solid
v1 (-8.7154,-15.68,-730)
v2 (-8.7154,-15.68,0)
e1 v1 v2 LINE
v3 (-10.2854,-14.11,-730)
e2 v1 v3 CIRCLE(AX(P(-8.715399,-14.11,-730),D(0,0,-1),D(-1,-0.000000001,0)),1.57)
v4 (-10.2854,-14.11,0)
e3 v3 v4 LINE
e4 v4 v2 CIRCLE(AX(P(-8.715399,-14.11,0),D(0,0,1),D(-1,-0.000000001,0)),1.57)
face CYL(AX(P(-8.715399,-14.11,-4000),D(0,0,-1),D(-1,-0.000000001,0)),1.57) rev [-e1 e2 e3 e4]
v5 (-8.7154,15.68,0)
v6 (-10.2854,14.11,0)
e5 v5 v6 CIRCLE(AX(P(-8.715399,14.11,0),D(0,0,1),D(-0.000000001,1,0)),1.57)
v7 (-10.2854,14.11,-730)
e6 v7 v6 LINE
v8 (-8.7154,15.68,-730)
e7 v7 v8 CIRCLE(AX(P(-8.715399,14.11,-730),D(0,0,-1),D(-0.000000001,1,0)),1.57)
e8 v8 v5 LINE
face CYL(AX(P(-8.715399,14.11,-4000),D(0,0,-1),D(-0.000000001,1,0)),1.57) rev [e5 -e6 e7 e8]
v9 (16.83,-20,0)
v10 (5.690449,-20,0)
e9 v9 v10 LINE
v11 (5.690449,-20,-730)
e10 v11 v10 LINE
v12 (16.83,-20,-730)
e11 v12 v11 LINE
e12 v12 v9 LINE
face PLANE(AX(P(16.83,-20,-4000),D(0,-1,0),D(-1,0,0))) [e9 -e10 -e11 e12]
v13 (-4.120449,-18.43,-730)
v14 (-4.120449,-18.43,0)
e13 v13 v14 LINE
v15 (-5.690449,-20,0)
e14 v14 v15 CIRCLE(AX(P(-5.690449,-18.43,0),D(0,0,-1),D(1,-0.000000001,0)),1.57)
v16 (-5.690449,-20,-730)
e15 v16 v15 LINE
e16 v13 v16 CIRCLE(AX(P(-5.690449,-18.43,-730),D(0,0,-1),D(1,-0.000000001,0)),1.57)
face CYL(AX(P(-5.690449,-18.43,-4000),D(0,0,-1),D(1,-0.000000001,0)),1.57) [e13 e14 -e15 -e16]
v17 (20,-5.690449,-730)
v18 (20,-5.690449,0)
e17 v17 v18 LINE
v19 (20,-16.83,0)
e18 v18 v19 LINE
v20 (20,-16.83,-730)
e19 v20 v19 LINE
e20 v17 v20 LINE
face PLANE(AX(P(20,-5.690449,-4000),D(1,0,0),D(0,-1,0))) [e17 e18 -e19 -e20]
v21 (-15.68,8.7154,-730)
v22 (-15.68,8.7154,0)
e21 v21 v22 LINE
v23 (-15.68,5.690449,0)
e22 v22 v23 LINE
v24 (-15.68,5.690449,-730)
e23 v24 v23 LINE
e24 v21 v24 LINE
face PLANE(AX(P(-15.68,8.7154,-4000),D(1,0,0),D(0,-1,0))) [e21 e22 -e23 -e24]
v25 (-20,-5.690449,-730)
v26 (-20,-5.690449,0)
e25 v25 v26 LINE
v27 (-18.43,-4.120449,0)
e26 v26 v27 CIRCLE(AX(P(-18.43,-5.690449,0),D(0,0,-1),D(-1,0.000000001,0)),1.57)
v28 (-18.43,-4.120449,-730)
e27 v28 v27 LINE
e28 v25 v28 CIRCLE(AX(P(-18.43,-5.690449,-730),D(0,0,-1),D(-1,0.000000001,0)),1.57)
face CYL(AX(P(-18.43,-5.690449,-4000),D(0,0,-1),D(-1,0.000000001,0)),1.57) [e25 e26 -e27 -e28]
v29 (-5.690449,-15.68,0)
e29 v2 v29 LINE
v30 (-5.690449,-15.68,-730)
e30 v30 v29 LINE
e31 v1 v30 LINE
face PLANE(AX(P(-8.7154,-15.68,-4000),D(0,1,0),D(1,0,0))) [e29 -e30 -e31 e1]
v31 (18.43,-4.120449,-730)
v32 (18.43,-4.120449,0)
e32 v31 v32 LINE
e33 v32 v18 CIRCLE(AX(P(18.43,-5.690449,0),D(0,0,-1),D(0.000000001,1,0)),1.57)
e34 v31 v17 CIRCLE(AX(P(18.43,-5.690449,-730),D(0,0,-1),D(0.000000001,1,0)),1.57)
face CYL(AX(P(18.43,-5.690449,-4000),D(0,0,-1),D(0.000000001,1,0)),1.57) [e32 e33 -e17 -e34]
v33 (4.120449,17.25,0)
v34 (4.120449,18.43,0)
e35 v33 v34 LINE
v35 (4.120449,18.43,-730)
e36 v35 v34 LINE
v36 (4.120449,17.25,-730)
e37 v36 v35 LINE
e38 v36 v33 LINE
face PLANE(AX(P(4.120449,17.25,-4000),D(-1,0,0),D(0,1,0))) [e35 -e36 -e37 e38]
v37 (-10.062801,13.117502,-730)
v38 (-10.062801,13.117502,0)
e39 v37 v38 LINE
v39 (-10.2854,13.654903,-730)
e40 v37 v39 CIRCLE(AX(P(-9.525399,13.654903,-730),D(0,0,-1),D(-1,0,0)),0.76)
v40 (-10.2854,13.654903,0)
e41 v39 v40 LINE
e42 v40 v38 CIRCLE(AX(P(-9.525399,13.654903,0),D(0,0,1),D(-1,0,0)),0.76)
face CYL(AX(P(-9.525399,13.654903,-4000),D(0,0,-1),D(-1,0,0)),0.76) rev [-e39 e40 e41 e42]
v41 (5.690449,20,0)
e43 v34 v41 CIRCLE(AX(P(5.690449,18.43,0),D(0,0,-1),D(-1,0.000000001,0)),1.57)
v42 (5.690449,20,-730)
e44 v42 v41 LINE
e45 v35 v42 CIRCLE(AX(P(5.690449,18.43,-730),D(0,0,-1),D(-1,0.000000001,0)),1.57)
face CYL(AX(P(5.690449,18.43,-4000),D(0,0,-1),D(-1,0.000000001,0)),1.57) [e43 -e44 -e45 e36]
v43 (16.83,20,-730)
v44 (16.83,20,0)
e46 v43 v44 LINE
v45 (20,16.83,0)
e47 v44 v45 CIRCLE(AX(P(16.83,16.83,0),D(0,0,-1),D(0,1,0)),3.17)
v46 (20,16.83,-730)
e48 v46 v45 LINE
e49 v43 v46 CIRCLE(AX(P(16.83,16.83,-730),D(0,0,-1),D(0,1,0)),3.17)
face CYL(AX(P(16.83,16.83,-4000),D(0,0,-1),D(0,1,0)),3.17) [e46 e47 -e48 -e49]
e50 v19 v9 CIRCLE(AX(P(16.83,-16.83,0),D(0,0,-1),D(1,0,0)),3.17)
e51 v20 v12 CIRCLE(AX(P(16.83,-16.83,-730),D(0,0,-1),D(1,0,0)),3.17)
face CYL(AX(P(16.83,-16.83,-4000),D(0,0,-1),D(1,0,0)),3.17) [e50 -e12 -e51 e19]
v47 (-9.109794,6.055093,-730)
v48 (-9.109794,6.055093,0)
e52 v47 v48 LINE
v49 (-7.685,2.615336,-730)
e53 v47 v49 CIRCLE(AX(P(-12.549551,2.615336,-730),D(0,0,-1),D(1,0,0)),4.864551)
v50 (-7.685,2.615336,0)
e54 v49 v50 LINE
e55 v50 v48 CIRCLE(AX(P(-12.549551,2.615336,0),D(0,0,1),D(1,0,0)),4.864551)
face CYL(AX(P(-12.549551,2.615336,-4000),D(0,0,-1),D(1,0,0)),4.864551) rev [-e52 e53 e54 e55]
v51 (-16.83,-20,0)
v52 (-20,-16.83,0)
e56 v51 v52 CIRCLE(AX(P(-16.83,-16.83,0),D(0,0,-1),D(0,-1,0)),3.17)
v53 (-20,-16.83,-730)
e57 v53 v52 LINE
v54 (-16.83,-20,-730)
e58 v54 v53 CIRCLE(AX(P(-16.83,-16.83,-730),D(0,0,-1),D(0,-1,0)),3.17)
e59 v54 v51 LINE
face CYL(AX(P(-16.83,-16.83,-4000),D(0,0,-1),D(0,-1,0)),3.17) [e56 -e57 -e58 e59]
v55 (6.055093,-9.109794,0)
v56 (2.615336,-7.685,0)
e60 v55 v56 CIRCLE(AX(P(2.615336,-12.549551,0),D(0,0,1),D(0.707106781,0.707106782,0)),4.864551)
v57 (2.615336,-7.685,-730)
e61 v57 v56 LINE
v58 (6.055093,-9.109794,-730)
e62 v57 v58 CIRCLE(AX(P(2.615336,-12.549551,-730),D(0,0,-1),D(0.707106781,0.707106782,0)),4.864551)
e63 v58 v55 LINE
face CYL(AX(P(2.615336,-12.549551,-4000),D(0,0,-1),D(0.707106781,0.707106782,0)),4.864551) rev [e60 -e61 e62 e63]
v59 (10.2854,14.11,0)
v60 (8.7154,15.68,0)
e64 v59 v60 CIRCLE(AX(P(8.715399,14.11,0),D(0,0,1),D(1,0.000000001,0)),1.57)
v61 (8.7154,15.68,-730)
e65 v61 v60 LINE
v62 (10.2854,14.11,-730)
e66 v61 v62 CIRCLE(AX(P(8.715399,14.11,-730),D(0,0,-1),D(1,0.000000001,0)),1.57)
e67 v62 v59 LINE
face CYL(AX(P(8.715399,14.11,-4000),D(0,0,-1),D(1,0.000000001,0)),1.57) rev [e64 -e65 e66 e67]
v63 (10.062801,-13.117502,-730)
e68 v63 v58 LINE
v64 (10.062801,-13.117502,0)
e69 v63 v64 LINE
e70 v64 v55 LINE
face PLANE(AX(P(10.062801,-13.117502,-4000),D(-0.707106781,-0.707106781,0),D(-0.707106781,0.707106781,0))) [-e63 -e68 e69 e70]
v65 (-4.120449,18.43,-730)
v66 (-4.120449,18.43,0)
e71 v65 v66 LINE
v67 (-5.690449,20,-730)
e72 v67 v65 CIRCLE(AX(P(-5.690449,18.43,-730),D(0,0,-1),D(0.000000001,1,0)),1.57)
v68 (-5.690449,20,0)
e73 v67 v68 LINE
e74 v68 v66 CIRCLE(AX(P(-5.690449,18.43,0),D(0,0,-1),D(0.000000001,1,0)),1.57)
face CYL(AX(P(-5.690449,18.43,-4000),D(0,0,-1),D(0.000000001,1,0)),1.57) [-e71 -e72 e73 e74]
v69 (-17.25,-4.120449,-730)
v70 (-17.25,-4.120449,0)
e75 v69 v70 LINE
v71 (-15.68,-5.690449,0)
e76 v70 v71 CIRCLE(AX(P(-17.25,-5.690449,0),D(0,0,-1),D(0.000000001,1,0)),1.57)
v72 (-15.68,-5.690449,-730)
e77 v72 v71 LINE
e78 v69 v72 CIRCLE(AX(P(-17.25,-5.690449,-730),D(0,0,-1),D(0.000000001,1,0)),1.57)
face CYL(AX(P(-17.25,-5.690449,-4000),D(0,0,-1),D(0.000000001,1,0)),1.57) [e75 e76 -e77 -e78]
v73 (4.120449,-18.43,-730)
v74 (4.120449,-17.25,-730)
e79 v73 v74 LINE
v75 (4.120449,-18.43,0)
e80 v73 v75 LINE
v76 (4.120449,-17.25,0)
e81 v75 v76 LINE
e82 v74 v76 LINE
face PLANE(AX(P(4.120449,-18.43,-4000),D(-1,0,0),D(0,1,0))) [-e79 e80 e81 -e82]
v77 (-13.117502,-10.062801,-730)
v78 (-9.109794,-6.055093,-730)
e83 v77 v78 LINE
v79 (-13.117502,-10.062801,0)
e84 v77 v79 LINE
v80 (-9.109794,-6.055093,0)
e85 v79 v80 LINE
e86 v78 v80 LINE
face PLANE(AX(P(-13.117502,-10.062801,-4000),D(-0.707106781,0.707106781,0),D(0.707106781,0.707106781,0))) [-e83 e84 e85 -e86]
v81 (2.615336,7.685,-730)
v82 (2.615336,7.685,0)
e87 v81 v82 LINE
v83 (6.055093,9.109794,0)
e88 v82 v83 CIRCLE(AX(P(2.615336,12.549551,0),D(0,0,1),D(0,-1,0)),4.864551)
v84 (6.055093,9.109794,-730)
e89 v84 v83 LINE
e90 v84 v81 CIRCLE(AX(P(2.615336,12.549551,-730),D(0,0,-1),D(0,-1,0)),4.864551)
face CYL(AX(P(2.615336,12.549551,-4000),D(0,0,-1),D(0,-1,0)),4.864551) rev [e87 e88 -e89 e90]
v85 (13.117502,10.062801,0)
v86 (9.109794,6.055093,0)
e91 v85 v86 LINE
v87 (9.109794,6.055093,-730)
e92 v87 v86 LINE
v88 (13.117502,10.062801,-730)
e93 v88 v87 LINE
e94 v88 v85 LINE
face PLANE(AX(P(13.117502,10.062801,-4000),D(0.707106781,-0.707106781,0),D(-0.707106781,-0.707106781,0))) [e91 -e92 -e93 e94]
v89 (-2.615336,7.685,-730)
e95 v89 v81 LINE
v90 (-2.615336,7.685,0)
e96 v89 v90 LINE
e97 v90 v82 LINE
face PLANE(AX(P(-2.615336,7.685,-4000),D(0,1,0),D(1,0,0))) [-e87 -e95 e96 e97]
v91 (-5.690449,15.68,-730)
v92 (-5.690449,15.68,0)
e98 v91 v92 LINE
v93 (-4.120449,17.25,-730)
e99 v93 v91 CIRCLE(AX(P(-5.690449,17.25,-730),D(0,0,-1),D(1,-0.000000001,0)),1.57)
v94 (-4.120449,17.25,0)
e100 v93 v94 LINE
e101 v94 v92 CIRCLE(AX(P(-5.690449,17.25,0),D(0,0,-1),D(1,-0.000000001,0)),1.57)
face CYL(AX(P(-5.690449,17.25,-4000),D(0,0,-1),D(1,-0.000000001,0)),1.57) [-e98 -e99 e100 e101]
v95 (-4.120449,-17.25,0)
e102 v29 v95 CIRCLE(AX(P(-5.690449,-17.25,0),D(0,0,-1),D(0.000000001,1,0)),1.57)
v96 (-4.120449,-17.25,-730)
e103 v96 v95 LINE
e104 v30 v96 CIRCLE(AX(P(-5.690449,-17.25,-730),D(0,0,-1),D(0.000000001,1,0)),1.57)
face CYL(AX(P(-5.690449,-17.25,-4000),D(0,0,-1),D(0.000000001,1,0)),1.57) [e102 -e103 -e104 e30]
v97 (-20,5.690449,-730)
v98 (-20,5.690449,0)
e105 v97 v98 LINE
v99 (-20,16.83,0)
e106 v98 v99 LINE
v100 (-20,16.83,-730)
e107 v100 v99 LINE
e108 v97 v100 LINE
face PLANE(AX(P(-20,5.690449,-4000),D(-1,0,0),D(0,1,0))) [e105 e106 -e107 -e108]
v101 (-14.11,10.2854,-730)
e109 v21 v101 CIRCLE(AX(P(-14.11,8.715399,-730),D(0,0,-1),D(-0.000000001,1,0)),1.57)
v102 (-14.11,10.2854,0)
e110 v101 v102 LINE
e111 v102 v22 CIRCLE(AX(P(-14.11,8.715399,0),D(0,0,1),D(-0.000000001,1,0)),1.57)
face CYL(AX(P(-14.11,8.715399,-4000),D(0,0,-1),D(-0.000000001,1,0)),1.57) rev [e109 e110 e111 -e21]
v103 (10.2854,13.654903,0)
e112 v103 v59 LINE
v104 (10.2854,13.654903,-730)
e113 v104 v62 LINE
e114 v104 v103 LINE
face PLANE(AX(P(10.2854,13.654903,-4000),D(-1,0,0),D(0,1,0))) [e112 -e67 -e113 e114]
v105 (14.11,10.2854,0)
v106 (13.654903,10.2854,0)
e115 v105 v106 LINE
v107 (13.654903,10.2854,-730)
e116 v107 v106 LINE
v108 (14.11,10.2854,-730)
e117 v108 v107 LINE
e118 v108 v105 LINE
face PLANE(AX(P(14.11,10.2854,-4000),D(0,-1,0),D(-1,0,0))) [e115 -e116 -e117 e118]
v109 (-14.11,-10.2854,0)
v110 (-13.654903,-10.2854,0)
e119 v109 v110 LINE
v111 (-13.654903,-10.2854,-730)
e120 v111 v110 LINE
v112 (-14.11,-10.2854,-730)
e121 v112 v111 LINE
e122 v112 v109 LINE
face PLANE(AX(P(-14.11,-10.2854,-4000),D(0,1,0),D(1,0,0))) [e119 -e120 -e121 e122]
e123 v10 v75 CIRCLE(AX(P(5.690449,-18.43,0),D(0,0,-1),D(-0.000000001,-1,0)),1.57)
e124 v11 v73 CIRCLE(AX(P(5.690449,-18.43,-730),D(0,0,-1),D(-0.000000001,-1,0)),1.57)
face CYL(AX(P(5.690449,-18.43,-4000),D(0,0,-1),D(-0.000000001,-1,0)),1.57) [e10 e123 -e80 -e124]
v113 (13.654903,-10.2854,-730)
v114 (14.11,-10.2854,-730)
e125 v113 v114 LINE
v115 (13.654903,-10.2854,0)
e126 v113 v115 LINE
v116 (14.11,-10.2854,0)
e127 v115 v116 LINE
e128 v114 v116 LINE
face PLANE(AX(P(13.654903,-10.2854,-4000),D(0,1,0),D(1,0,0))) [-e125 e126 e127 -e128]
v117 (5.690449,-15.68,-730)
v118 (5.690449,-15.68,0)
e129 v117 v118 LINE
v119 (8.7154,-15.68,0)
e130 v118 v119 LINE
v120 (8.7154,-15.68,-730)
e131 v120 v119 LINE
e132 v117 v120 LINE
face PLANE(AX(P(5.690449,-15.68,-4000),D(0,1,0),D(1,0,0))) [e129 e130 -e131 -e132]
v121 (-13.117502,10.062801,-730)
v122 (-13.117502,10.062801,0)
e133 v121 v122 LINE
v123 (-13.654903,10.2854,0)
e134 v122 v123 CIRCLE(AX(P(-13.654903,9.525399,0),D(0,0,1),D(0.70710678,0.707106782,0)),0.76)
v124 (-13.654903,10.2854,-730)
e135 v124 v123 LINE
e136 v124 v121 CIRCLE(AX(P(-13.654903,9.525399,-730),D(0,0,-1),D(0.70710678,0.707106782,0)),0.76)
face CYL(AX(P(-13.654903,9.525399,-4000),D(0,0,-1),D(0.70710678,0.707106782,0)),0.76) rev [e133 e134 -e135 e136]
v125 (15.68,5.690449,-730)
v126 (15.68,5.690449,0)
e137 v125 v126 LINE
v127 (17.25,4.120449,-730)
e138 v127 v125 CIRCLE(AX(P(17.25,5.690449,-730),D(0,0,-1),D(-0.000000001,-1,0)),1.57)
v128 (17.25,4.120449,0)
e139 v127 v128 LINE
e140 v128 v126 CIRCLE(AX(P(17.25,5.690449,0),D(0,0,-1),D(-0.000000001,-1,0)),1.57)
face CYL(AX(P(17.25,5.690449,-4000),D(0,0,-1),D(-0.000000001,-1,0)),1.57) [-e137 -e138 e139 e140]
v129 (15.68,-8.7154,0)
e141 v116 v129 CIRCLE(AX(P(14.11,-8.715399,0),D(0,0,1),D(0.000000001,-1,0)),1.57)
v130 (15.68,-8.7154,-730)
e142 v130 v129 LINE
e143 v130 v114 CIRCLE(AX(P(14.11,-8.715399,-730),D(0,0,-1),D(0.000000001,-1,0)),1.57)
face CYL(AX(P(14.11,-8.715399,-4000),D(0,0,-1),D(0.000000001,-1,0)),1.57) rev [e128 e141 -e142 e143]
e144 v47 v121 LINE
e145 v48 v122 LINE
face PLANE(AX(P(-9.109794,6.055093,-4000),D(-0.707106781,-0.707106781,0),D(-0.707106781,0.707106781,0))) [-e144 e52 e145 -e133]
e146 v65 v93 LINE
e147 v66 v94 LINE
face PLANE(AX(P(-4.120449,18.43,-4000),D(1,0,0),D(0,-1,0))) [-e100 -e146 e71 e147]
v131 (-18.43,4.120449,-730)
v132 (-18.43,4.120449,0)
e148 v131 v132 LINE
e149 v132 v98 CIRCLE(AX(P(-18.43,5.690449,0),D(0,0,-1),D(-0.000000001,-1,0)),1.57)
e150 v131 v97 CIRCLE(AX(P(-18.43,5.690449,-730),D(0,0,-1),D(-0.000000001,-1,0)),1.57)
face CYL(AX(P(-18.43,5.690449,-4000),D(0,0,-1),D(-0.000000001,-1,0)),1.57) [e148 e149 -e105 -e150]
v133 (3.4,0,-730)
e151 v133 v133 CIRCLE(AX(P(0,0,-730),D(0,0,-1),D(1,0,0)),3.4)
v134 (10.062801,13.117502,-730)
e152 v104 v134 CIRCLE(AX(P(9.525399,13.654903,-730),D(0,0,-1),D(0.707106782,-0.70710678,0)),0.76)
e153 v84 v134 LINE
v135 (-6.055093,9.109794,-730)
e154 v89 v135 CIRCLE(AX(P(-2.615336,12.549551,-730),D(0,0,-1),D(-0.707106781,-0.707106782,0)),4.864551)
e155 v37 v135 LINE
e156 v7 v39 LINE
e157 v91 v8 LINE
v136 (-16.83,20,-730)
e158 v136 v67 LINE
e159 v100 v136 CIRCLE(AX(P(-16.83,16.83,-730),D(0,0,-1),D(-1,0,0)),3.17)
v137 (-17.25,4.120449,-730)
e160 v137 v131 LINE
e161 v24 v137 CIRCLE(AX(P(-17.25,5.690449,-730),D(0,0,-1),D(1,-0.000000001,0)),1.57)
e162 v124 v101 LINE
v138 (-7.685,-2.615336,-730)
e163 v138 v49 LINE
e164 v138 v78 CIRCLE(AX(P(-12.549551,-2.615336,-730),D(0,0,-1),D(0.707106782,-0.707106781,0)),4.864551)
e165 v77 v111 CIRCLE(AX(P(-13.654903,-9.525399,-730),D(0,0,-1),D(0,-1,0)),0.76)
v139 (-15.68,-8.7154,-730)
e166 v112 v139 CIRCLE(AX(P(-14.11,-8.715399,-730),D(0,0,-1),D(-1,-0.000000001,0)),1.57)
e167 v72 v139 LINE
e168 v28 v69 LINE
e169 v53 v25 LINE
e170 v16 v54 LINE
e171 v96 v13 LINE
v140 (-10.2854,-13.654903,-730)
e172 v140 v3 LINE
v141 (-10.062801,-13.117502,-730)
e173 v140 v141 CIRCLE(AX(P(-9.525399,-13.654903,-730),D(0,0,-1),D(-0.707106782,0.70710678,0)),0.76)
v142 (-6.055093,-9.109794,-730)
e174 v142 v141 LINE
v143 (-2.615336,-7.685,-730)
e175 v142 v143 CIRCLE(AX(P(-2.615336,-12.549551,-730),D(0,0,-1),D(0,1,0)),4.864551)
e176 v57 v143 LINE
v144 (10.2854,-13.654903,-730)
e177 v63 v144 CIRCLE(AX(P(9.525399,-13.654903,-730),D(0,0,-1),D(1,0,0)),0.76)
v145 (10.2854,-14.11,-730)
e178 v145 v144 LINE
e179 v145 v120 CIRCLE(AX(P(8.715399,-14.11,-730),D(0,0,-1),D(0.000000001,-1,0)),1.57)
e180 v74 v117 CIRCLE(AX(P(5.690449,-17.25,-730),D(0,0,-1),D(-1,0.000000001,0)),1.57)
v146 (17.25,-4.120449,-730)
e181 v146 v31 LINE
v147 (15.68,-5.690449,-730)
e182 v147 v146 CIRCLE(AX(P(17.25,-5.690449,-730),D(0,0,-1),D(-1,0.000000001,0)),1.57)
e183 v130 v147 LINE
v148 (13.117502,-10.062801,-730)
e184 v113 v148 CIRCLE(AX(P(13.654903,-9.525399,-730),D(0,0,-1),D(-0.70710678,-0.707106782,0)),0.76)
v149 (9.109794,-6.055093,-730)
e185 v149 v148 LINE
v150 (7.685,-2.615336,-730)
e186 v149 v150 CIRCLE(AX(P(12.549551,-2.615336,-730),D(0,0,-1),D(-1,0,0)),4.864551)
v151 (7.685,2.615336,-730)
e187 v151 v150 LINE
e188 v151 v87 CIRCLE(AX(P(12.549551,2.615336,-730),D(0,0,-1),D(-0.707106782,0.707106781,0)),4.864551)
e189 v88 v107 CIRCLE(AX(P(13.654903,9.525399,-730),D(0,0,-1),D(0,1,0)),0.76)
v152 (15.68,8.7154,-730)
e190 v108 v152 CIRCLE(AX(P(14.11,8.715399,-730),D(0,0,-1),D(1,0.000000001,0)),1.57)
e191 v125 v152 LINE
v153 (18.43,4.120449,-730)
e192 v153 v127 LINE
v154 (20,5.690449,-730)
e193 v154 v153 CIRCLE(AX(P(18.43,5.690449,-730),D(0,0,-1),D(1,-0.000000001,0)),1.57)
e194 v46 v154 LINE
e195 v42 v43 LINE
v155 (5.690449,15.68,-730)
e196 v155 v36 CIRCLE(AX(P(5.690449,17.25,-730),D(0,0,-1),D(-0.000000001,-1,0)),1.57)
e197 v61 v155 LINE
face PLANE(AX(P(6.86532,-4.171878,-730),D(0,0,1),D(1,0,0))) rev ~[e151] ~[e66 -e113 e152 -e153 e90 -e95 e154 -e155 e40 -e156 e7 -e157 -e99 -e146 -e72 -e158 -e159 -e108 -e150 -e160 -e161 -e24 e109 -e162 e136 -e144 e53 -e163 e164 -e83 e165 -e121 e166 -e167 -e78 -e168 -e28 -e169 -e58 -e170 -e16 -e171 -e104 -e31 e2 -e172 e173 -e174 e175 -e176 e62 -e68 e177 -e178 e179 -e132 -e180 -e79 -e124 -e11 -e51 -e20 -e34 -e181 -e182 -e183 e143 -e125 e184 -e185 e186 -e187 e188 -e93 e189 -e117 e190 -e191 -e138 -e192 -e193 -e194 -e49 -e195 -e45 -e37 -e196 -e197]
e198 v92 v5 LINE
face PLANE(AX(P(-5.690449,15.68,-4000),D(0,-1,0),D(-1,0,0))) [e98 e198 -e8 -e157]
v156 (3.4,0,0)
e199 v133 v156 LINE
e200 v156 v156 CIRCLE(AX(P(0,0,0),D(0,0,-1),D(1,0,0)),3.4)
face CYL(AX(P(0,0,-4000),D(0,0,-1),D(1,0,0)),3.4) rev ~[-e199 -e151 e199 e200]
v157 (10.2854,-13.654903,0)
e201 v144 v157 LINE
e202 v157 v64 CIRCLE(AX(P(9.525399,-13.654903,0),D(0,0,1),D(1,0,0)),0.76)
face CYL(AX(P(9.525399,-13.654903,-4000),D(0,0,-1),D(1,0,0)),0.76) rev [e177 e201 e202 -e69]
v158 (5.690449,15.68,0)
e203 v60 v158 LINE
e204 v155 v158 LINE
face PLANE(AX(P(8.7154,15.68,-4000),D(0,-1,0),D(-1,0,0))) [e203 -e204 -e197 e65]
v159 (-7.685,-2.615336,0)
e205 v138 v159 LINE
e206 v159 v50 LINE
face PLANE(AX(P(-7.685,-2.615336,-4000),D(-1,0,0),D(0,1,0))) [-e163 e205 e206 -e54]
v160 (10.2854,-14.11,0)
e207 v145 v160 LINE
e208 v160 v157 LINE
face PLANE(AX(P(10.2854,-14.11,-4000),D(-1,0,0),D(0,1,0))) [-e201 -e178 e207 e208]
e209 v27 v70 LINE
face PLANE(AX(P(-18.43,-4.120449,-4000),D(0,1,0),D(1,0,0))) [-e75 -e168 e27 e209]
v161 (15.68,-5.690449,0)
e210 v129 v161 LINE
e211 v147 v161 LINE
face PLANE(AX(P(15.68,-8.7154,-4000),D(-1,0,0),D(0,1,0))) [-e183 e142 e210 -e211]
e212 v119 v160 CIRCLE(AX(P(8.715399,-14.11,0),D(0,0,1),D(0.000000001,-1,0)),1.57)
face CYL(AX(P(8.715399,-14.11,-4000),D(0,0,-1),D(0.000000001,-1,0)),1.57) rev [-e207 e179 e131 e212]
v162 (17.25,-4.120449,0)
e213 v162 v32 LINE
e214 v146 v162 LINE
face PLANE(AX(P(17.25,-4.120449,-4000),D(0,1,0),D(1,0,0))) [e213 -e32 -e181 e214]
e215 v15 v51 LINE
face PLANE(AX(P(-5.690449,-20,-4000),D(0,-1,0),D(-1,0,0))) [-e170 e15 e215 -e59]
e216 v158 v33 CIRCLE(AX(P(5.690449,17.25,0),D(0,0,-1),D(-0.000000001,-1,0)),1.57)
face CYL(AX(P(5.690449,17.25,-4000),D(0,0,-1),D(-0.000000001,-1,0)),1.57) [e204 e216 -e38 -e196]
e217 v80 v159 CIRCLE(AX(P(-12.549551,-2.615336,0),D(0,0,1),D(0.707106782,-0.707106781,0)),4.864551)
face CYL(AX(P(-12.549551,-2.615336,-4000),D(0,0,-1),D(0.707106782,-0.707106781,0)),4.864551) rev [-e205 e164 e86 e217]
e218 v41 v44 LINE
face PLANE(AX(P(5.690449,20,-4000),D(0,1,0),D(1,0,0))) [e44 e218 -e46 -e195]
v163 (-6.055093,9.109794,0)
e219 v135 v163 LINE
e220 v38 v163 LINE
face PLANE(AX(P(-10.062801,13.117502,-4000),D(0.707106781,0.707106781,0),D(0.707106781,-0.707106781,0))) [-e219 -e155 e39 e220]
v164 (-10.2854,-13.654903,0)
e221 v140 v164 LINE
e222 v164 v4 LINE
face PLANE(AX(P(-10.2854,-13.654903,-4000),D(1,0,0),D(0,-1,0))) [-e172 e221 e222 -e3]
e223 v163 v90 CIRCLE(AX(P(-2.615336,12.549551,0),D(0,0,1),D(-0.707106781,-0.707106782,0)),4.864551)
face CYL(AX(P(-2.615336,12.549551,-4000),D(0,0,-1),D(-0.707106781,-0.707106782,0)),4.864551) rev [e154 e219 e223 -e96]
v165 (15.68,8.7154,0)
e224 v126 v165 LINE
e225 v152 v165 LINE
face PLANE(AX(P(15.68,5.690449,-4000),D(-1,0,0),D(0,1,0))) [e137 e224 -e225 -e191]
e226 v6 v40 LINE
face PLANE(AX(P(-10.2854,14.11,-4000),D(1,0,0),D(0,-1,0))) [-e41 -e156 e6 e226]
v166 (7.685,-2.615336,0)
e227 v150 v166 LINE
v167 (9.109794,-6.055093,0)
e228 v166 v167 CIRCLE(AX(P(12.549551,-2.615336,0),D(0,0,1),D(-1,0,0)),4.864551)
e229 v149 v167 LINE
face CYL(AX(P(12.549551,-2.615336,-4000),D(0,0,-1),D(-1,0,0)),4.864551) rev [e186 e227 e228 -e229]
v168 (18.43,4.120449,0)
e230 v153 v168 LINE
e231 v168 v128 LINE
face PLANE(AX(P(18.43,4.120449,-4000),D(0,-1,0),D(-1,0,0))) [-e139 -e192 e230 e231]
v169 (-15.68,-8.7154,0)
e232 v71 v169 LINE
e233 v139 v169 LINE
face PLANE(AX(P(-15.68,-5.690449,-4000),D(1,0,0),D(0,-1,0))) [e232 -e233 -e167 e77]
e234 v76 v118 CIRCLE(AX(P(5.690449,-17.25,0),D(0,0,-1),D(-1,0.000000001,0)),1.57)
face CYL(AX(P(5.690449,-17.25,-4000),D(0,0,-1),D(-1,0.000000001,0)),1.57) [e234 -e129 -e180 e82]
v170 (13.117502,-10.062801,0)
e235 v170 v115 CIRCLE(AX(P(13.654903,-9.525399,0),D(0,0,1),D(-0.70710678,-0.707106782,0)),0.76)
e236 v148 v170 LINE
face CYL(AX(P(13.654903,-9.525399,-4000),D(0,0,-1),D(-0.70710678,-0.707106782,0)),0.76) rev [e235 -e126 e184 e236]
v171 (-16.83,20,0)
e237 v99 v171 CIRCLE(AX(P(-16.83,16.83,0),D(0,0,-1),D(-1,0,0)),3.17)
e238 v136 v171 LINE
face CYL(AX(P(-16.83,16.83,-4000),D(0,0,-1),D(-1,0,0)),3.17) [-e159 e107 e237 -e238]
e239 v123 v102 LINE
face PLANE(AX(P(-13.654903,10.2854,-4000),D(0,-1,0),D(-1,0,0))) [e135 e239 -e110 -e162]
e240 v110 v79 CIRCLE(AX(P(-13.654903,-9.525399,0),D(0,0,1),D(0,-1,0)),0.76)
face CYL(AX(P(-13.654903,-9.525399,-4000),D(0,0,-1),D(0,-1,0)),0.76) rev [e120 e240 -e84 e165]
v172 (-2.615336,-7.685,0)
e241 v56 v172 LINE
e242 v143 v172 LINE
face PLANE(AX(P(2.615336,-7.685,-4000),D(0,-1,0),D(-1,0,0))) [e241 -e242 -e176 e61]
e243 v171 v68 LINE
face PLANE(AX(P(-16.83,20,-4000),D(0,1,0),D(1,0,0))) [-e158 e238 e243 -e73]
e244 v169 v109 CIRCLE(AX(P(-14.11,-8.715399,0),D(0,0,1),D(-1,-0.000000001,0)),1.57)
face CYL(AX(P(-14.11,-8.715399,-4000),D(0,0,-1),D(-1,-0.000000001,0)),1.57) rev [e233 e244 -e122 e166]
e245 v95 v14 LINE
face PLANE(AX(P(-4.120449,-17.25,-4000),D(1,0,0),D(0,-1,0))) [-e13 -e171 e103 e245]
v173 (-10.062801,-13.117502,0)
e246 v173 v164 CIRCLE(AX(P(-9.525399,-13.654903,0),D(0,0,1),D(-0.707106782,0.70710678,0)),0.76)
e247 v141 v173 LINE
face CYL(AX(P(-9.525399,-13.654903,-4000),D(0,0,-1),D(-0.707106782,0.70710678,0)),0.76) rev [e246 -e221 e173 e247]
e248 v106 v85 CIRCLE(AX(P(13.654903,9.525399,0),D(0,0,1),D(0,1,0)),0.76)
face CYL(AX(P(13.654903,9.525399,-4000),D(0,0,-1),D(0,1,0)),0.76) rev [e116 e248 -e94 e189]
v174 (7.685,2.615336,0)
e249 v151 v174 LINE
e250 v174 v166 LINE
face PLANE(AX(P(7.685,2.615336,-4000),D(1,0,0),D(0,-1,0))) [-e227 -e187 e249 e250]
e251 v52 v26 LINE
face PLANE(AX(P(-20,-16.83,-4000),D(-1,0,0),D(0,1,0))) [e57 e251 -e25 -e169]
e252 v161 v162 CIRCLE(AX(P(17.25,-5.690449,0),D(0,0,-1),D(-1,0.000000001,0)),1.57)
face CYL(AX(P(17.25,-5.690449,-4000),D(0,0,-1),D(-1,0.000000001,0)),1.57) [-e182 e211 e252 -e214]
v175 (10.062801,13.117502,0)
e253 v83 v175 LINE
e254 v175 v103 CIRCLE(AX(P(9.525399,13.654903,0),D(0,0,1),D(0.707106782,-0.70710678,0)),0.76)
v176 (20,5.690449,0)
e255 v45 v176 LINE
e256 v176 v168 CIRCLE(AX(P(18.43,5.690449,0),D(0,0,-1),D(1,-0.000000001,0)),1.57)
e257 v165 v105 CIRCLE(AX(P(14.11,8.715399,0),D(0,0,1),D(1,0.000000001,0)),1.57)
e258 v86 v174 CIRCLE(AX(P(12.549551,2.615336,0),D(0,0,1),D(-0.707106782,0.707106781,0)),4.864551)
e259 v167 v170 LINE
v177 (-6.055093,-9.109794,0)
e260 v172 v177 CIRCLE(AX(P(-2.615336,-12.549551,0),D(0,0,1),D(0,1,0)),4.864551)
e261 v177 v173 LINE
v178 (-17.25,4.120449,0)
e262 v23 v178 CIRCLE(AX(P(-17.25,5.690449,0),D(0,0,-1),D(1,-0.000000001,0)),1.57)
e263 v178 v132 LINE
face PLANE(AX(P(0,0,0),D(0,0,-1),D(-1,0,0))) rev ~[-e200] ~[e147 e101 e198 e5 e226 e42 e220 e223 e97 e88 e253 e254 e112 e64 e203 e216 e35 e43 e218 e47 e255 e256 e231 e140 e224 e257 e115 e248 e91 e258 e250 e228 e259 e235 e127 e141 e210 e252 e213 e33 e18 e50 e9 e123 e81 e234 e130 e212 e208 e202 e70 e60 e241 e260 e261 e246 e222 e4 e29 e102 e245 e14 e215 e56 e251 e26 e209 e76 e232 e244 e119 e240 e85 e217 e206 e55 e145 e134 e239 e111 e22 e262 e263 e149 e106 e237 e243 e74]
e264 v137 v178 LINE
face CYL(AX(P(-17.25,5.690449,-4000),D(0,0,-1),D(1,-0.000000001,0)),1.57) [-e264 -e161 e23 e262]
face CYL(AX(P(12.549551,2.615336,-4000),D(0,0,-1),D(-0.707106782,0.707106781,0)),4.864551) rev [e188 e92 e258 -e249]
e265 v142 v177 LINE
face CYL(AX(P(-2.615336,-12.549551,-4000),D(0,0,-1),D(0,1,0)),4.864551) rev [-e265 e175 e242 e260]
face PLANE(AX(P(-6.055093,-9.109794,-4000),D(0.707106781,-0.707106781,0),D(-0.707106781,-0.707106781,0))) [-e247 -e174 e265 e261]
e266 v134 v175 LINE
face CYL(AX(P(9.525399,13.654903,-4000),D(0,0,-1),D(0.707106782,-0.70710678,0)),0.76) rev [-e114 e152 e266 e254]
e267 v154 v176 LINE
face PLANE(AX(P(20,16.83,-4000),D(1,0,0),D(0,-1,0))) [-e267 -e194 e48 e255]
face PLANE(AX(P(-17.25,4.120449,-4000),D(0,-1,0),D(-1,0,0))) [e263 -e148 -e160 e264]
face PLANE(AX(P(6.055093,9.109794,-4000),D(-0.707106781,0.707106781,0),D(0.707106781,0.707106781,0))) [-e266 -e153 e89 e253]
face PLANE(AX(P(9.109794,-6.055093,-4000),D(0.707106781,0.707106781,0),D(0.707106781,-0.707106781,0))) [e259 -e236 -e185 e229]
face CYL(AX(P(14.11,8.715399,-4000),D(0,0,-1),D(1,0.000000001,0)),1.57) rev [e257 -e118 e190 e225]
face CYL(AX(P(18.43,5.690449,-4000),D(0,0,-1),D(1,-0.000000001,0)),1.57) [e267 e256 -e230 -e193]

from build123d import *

# Parameters (mm, degrees)
SKETCH1_R           = 3.4
BOSS_EXTRUDE1_DEPTH = 4000
SKETCH2_W           = 84.539567645
SKETCH2_H           = 98.688701394
CUT_EXTRUDE1_DEPTH  = 3271.122321871


with BuildPart() as part:
    # Sketch1 → Boss-Extrude1 (new body)
    with BuildSketch(Plane(origin=(0, 0, -4000), x_dir=(-1, 0, 0), z_dir=(0, 0, -1))):
        with BuildLine():
            Line((16.83, 20), (5.69044933, 20))
            ThreePointArc((5.69044933, 20), (4.580291684, 19.540157646), (4.12044933, 18.43))
            Line((4.12044933, 18.43), (4.12044933, 17.25))
            ThreePointArc((4.12044933, 17.25), (4.580291684, 16.139842354), (5.69044933, 15.68))
            Line((5.69044933, 15.68), (8.7153995, 15.68))
            ThreePointArc((8.7153995, 15.68), (9.825557146, 15.220157646), (10.2853995, 14.11))
            Line((10.2853995, 14.11), (10.2853995, 13.654903102))
            ThreePointArc((10.2853995, 13.654903102), (10.227547945, 13.364063694), (10.062800654, 13.117501948))
            Line((10.062800654, 13.117501948), (6.055092794, 9.109794088))
            ThreePointArc((6.055092794, 9.109794088), (4.47691877, 8.055291919), (2.615335582, 7.685))
            Line((2.615335582, 7.685), (-2.615335582, 7.685))
            ThreePointArc((-2.615335582, 7.685), (-4.47691877, 8.055291919), (-6.055092794, 9.109794088))
            Line((-6.055092794, 9.109794088), (-10.062800654, 13.117501948))
            ThreePointArc((-10.062800654, 13.117501948), (-10.227547945, 13.364063694), (-10.2853995, 13.654903102))
            Line((-10.2853995, 13.654903102), (-10.2853995, 14.11))
            ThreePointArc((-10.2853995, 14.11), (-9.825557146, 15.220157646), (-8.7153995, 15.68))
            Line((-8.7153995, 15.68), (-5.69044933, 15.68))
            ThreePointArc((-5.69044933, 15.68), (-4.580291684, 16.139842354), (-4.12044933, 17.25))
            Line((-4.12044933, 17.25), (-4.12044933, 18.43))
            ThreePointArc((-4.12044933, 18.43), (-4.580291684, 19.540157646), (-5.69044933, 20))
            Line((-5.69044933, 20), (-16.83, 20))
            ThreePointArc((-16.83, 20), (-19.071528496, 19.071528496), (-20, 16.83))
            Line((-20, 16.83), (-20, 5.69044933))
            ThreePointArc((-20, 5.69044933), (-19.540157646, 4.580291684), (-18.43, 4.12044933))
            Line((-18.43, 4.12044933), (-17.25, 4.12044933))
            ThreePointArc((-17.25, 4.12044933), (-16.139842354, 4.580291684), (-15.68, 5.69044933))
            Line((-15.68, 5.69044933), (-15.68, 8.7153995))
            ThreePointArc((-15.68, 8.7153995), (-15.220157646, 9.825557146), (-14.11, 10.2853995))
            Line((-14.11, 10.2853995), (-13.654903102, 10.2853995))
            ThreePointArc((-13.654903102, 10.2853995), (-13.364063694, 10.227547945), (-13.117501948, 10.062800654))
            Line((-13.117501948, 10.062800654), (-9.109794088, 6.055092794))
            ThreePointArc((-9.109794088, 6.055092794), (-8.055291919, 4.47691877), (-7.685, 2.615335582))
            Line((-7.685, 2.615335582), (-7.685, -2.615335582))
            ThreePointArc((-7.685, -2.615335582), (-8.055291919, -4.47691877), (-9.109794088, -6.055092794))
            Line((-9.109794088, -6.055092794), (-13.117501948, -10.062800654))
            ThreePointArc((-13.117501948, -10.062800654), (-13.364063694, -10.227547945), (-13.654903102, -10.2853995))
            Line((-13.654903102, -10.2853995), (-14.11, -10.2853995))
            ThreePointArc((-14.11, -10.2853995), (-15.220157646, -9.825557146), (-15.68, -8.7153995))
            Line((-15.68, -8.7153995), (-15.68, -5.69044933))
            ThreePointArc((-15.68, -5.69044933), (-16.139842354, -4.580291684), (-17.25, -4.12044933))
            Line((-17.25, -4.12044933), (-18.43, -4.12044933))
            ThreePointArc((-18.43, -4.12044933), (-19.540157646, -4.580291684), (-20, -5.69044933))
            Line((-20, -5.69044933), (-20, -16.83))
            ThreePointArc((-20, -16.83), (-19.071528496, -19.071528496), (-16.83, -20))
            Line((-16.83, -20), (-5.69044933, -20))
            ThreePointArc((-5.69044933, -20), (-4.580291684, -19.540157646), (-4.12044933, -18.43))
            Line((-4.12044933, -18.43), (-4.12044933, -17.25))
            ThreePointArc((-4.12044933, -17.25), (-4.580291684, -16.139842354), (-5.69044933, -15.68))
            Line((-5.69044933, -15.68), (-8.7153995, -15.68))
            ThreePointArc((-8.7153995, -15.68), (-9.825557146, -15.220157646), (-10.2853995, -14.11))
            Line((-10.2853995, -14.11), (-10.2853995, -13.654903102))
            ThreePointArc((-10.2853995, -13.654903102), (-10.227547945, -13.364063694), (-10.062800654, -13.117501948))
            Line((-10.062800654, -13.117501948), (-6.055092794, -9.109794088))
            ThreePointArc((-6.055092794, -9.109794088), (-4.47691877, -8.055291919), (-2.615335582, -7.685))
            Line((-2.615335582, -7.685), (2.615335582, -7.685))
            ThreePointArc((2.615335582, -7.685), (4.47691877, -8.055291919), (6.055092794, -9.109794088))
            Line((6.055092794, -9.109794088), (10.062800654, -13.117501948))
            ThreePointArc((10.062800654, -13.117501948), (10.227547945, -13.364063694), (10.2853995, -13.654903102))
            Line((10.2853995, -13.654903102), (10.2853995, -14.11))
            ThreePointArc((10.2853995, -14.11), (9.825557146, -15.220157646), (8.7153995, -15.68))
            Line((8.7153995, -15.68), (5.69044933, -15.68))
            ThreePointArc((5.69044933, -15.68), (4.580291684, -16.139842354), (4.12044933, -17.25))
            Line((4.12044933, -17.25), (4.12044933, -18.43))
            ThreePointArc((4.12044933, -18.43), (4.580291684, -19.540157646), (5.69044933, -20))
            Line((5.69044933, -20), (16.83, -20))
            ThreePointArc((16.83, -20), (19.071528496, -19.071528496), (20, -16.83))
            Line((20, -16.83), (20, -5.69044933))
            ThreePointArc((20, -5.69044933), (19.540157646, -4.580291684), (18.43, -4.12044933))
            Line((18.43, -4.12044933), (17.25, -4.12044933))
            ThreePointArc((17.25, -4.12044933), (16.139842354, -4.580291684), (15.68, -5.69044933))
            Line((15.68, -5.69044933), (15.68, -8.7153995))
            ThreePointArc((15.68, -8.7153995), (15.220157646, -9.825557146), (14.11, -10.2853995))
            Line((14.11, -10.2853995), (13.654903102, -10.2853995))
            ThreePointArc((13.654903102, -10.2853995), (13.364063694, -10.227547945), (13.117501948, -10.062800654))
            Line((13.117501948, -10.062800654), (9.109794088, -6.055092794))
            ThreePointArc((9.109794088, -6.055092794), (8.055291919, -4.47691877), (7.685, -2.615335582))
            Line((7.685, -2.615335582), (7.685, 2.615335582))
            ThreePointArc((7.685, 2.615335582), (8.055291919, 4.47691877), (9.109794088, 6.055092794))
            Line((9.109794088, 6.055092794), (13.117501948, 10.062800654))
            ThreePointArc((13.117501948, 10.062800654), (13.364063694, 10.227547945), (13.654903102, 10.2853995))
            Line((13.654903102, 10.2853995), (14.11, 10.2853995))
            ThreePointArc((14.11, 10.2853995), (15.220157646, 9.825557146), (15.68, 8.7153995))
            Line((15.68, 8.7153995), (15.68, 5.69044933))
            ThreePointArc((15.68, 5.69044933), (16.139842354, 4.580291684), (17.25, 4.12044933))
            Line((17.25, 4.12044933), (18.43, 4.12044933))
            ThreePointArc((18.43, 4.12044933), (19.540157646, 4.580291684), (20, 5.69044933))
            Line((20, 5.69044933), (20, 16.83))
            ThreePointArc((20, 16.83), (19.071528496, 19.071528496), (16.83, 20))
        make_face()
        with Locations(Location((0, 0, 0), (0, 0, 180))):
            Circle(SKETCH1_R, mode=Mode.SUBTRACT)
    extrude(amount=-BOSS_EXTRUDE1_DEPTH)

    # Sketch2 → Cut-Extrude1 (cut, through all)
    with BuildSketch(Plane.XY.offset(-730)):
        with Locations((6.865320367, -4.171878069)):
            Rectangle(SKETCH2_W, SKETCH2_H)
    extrude(amount=-CUT_EXTRUDE1_DEPTH, mode=Mode.SUBTRACT)


solid = part.part
